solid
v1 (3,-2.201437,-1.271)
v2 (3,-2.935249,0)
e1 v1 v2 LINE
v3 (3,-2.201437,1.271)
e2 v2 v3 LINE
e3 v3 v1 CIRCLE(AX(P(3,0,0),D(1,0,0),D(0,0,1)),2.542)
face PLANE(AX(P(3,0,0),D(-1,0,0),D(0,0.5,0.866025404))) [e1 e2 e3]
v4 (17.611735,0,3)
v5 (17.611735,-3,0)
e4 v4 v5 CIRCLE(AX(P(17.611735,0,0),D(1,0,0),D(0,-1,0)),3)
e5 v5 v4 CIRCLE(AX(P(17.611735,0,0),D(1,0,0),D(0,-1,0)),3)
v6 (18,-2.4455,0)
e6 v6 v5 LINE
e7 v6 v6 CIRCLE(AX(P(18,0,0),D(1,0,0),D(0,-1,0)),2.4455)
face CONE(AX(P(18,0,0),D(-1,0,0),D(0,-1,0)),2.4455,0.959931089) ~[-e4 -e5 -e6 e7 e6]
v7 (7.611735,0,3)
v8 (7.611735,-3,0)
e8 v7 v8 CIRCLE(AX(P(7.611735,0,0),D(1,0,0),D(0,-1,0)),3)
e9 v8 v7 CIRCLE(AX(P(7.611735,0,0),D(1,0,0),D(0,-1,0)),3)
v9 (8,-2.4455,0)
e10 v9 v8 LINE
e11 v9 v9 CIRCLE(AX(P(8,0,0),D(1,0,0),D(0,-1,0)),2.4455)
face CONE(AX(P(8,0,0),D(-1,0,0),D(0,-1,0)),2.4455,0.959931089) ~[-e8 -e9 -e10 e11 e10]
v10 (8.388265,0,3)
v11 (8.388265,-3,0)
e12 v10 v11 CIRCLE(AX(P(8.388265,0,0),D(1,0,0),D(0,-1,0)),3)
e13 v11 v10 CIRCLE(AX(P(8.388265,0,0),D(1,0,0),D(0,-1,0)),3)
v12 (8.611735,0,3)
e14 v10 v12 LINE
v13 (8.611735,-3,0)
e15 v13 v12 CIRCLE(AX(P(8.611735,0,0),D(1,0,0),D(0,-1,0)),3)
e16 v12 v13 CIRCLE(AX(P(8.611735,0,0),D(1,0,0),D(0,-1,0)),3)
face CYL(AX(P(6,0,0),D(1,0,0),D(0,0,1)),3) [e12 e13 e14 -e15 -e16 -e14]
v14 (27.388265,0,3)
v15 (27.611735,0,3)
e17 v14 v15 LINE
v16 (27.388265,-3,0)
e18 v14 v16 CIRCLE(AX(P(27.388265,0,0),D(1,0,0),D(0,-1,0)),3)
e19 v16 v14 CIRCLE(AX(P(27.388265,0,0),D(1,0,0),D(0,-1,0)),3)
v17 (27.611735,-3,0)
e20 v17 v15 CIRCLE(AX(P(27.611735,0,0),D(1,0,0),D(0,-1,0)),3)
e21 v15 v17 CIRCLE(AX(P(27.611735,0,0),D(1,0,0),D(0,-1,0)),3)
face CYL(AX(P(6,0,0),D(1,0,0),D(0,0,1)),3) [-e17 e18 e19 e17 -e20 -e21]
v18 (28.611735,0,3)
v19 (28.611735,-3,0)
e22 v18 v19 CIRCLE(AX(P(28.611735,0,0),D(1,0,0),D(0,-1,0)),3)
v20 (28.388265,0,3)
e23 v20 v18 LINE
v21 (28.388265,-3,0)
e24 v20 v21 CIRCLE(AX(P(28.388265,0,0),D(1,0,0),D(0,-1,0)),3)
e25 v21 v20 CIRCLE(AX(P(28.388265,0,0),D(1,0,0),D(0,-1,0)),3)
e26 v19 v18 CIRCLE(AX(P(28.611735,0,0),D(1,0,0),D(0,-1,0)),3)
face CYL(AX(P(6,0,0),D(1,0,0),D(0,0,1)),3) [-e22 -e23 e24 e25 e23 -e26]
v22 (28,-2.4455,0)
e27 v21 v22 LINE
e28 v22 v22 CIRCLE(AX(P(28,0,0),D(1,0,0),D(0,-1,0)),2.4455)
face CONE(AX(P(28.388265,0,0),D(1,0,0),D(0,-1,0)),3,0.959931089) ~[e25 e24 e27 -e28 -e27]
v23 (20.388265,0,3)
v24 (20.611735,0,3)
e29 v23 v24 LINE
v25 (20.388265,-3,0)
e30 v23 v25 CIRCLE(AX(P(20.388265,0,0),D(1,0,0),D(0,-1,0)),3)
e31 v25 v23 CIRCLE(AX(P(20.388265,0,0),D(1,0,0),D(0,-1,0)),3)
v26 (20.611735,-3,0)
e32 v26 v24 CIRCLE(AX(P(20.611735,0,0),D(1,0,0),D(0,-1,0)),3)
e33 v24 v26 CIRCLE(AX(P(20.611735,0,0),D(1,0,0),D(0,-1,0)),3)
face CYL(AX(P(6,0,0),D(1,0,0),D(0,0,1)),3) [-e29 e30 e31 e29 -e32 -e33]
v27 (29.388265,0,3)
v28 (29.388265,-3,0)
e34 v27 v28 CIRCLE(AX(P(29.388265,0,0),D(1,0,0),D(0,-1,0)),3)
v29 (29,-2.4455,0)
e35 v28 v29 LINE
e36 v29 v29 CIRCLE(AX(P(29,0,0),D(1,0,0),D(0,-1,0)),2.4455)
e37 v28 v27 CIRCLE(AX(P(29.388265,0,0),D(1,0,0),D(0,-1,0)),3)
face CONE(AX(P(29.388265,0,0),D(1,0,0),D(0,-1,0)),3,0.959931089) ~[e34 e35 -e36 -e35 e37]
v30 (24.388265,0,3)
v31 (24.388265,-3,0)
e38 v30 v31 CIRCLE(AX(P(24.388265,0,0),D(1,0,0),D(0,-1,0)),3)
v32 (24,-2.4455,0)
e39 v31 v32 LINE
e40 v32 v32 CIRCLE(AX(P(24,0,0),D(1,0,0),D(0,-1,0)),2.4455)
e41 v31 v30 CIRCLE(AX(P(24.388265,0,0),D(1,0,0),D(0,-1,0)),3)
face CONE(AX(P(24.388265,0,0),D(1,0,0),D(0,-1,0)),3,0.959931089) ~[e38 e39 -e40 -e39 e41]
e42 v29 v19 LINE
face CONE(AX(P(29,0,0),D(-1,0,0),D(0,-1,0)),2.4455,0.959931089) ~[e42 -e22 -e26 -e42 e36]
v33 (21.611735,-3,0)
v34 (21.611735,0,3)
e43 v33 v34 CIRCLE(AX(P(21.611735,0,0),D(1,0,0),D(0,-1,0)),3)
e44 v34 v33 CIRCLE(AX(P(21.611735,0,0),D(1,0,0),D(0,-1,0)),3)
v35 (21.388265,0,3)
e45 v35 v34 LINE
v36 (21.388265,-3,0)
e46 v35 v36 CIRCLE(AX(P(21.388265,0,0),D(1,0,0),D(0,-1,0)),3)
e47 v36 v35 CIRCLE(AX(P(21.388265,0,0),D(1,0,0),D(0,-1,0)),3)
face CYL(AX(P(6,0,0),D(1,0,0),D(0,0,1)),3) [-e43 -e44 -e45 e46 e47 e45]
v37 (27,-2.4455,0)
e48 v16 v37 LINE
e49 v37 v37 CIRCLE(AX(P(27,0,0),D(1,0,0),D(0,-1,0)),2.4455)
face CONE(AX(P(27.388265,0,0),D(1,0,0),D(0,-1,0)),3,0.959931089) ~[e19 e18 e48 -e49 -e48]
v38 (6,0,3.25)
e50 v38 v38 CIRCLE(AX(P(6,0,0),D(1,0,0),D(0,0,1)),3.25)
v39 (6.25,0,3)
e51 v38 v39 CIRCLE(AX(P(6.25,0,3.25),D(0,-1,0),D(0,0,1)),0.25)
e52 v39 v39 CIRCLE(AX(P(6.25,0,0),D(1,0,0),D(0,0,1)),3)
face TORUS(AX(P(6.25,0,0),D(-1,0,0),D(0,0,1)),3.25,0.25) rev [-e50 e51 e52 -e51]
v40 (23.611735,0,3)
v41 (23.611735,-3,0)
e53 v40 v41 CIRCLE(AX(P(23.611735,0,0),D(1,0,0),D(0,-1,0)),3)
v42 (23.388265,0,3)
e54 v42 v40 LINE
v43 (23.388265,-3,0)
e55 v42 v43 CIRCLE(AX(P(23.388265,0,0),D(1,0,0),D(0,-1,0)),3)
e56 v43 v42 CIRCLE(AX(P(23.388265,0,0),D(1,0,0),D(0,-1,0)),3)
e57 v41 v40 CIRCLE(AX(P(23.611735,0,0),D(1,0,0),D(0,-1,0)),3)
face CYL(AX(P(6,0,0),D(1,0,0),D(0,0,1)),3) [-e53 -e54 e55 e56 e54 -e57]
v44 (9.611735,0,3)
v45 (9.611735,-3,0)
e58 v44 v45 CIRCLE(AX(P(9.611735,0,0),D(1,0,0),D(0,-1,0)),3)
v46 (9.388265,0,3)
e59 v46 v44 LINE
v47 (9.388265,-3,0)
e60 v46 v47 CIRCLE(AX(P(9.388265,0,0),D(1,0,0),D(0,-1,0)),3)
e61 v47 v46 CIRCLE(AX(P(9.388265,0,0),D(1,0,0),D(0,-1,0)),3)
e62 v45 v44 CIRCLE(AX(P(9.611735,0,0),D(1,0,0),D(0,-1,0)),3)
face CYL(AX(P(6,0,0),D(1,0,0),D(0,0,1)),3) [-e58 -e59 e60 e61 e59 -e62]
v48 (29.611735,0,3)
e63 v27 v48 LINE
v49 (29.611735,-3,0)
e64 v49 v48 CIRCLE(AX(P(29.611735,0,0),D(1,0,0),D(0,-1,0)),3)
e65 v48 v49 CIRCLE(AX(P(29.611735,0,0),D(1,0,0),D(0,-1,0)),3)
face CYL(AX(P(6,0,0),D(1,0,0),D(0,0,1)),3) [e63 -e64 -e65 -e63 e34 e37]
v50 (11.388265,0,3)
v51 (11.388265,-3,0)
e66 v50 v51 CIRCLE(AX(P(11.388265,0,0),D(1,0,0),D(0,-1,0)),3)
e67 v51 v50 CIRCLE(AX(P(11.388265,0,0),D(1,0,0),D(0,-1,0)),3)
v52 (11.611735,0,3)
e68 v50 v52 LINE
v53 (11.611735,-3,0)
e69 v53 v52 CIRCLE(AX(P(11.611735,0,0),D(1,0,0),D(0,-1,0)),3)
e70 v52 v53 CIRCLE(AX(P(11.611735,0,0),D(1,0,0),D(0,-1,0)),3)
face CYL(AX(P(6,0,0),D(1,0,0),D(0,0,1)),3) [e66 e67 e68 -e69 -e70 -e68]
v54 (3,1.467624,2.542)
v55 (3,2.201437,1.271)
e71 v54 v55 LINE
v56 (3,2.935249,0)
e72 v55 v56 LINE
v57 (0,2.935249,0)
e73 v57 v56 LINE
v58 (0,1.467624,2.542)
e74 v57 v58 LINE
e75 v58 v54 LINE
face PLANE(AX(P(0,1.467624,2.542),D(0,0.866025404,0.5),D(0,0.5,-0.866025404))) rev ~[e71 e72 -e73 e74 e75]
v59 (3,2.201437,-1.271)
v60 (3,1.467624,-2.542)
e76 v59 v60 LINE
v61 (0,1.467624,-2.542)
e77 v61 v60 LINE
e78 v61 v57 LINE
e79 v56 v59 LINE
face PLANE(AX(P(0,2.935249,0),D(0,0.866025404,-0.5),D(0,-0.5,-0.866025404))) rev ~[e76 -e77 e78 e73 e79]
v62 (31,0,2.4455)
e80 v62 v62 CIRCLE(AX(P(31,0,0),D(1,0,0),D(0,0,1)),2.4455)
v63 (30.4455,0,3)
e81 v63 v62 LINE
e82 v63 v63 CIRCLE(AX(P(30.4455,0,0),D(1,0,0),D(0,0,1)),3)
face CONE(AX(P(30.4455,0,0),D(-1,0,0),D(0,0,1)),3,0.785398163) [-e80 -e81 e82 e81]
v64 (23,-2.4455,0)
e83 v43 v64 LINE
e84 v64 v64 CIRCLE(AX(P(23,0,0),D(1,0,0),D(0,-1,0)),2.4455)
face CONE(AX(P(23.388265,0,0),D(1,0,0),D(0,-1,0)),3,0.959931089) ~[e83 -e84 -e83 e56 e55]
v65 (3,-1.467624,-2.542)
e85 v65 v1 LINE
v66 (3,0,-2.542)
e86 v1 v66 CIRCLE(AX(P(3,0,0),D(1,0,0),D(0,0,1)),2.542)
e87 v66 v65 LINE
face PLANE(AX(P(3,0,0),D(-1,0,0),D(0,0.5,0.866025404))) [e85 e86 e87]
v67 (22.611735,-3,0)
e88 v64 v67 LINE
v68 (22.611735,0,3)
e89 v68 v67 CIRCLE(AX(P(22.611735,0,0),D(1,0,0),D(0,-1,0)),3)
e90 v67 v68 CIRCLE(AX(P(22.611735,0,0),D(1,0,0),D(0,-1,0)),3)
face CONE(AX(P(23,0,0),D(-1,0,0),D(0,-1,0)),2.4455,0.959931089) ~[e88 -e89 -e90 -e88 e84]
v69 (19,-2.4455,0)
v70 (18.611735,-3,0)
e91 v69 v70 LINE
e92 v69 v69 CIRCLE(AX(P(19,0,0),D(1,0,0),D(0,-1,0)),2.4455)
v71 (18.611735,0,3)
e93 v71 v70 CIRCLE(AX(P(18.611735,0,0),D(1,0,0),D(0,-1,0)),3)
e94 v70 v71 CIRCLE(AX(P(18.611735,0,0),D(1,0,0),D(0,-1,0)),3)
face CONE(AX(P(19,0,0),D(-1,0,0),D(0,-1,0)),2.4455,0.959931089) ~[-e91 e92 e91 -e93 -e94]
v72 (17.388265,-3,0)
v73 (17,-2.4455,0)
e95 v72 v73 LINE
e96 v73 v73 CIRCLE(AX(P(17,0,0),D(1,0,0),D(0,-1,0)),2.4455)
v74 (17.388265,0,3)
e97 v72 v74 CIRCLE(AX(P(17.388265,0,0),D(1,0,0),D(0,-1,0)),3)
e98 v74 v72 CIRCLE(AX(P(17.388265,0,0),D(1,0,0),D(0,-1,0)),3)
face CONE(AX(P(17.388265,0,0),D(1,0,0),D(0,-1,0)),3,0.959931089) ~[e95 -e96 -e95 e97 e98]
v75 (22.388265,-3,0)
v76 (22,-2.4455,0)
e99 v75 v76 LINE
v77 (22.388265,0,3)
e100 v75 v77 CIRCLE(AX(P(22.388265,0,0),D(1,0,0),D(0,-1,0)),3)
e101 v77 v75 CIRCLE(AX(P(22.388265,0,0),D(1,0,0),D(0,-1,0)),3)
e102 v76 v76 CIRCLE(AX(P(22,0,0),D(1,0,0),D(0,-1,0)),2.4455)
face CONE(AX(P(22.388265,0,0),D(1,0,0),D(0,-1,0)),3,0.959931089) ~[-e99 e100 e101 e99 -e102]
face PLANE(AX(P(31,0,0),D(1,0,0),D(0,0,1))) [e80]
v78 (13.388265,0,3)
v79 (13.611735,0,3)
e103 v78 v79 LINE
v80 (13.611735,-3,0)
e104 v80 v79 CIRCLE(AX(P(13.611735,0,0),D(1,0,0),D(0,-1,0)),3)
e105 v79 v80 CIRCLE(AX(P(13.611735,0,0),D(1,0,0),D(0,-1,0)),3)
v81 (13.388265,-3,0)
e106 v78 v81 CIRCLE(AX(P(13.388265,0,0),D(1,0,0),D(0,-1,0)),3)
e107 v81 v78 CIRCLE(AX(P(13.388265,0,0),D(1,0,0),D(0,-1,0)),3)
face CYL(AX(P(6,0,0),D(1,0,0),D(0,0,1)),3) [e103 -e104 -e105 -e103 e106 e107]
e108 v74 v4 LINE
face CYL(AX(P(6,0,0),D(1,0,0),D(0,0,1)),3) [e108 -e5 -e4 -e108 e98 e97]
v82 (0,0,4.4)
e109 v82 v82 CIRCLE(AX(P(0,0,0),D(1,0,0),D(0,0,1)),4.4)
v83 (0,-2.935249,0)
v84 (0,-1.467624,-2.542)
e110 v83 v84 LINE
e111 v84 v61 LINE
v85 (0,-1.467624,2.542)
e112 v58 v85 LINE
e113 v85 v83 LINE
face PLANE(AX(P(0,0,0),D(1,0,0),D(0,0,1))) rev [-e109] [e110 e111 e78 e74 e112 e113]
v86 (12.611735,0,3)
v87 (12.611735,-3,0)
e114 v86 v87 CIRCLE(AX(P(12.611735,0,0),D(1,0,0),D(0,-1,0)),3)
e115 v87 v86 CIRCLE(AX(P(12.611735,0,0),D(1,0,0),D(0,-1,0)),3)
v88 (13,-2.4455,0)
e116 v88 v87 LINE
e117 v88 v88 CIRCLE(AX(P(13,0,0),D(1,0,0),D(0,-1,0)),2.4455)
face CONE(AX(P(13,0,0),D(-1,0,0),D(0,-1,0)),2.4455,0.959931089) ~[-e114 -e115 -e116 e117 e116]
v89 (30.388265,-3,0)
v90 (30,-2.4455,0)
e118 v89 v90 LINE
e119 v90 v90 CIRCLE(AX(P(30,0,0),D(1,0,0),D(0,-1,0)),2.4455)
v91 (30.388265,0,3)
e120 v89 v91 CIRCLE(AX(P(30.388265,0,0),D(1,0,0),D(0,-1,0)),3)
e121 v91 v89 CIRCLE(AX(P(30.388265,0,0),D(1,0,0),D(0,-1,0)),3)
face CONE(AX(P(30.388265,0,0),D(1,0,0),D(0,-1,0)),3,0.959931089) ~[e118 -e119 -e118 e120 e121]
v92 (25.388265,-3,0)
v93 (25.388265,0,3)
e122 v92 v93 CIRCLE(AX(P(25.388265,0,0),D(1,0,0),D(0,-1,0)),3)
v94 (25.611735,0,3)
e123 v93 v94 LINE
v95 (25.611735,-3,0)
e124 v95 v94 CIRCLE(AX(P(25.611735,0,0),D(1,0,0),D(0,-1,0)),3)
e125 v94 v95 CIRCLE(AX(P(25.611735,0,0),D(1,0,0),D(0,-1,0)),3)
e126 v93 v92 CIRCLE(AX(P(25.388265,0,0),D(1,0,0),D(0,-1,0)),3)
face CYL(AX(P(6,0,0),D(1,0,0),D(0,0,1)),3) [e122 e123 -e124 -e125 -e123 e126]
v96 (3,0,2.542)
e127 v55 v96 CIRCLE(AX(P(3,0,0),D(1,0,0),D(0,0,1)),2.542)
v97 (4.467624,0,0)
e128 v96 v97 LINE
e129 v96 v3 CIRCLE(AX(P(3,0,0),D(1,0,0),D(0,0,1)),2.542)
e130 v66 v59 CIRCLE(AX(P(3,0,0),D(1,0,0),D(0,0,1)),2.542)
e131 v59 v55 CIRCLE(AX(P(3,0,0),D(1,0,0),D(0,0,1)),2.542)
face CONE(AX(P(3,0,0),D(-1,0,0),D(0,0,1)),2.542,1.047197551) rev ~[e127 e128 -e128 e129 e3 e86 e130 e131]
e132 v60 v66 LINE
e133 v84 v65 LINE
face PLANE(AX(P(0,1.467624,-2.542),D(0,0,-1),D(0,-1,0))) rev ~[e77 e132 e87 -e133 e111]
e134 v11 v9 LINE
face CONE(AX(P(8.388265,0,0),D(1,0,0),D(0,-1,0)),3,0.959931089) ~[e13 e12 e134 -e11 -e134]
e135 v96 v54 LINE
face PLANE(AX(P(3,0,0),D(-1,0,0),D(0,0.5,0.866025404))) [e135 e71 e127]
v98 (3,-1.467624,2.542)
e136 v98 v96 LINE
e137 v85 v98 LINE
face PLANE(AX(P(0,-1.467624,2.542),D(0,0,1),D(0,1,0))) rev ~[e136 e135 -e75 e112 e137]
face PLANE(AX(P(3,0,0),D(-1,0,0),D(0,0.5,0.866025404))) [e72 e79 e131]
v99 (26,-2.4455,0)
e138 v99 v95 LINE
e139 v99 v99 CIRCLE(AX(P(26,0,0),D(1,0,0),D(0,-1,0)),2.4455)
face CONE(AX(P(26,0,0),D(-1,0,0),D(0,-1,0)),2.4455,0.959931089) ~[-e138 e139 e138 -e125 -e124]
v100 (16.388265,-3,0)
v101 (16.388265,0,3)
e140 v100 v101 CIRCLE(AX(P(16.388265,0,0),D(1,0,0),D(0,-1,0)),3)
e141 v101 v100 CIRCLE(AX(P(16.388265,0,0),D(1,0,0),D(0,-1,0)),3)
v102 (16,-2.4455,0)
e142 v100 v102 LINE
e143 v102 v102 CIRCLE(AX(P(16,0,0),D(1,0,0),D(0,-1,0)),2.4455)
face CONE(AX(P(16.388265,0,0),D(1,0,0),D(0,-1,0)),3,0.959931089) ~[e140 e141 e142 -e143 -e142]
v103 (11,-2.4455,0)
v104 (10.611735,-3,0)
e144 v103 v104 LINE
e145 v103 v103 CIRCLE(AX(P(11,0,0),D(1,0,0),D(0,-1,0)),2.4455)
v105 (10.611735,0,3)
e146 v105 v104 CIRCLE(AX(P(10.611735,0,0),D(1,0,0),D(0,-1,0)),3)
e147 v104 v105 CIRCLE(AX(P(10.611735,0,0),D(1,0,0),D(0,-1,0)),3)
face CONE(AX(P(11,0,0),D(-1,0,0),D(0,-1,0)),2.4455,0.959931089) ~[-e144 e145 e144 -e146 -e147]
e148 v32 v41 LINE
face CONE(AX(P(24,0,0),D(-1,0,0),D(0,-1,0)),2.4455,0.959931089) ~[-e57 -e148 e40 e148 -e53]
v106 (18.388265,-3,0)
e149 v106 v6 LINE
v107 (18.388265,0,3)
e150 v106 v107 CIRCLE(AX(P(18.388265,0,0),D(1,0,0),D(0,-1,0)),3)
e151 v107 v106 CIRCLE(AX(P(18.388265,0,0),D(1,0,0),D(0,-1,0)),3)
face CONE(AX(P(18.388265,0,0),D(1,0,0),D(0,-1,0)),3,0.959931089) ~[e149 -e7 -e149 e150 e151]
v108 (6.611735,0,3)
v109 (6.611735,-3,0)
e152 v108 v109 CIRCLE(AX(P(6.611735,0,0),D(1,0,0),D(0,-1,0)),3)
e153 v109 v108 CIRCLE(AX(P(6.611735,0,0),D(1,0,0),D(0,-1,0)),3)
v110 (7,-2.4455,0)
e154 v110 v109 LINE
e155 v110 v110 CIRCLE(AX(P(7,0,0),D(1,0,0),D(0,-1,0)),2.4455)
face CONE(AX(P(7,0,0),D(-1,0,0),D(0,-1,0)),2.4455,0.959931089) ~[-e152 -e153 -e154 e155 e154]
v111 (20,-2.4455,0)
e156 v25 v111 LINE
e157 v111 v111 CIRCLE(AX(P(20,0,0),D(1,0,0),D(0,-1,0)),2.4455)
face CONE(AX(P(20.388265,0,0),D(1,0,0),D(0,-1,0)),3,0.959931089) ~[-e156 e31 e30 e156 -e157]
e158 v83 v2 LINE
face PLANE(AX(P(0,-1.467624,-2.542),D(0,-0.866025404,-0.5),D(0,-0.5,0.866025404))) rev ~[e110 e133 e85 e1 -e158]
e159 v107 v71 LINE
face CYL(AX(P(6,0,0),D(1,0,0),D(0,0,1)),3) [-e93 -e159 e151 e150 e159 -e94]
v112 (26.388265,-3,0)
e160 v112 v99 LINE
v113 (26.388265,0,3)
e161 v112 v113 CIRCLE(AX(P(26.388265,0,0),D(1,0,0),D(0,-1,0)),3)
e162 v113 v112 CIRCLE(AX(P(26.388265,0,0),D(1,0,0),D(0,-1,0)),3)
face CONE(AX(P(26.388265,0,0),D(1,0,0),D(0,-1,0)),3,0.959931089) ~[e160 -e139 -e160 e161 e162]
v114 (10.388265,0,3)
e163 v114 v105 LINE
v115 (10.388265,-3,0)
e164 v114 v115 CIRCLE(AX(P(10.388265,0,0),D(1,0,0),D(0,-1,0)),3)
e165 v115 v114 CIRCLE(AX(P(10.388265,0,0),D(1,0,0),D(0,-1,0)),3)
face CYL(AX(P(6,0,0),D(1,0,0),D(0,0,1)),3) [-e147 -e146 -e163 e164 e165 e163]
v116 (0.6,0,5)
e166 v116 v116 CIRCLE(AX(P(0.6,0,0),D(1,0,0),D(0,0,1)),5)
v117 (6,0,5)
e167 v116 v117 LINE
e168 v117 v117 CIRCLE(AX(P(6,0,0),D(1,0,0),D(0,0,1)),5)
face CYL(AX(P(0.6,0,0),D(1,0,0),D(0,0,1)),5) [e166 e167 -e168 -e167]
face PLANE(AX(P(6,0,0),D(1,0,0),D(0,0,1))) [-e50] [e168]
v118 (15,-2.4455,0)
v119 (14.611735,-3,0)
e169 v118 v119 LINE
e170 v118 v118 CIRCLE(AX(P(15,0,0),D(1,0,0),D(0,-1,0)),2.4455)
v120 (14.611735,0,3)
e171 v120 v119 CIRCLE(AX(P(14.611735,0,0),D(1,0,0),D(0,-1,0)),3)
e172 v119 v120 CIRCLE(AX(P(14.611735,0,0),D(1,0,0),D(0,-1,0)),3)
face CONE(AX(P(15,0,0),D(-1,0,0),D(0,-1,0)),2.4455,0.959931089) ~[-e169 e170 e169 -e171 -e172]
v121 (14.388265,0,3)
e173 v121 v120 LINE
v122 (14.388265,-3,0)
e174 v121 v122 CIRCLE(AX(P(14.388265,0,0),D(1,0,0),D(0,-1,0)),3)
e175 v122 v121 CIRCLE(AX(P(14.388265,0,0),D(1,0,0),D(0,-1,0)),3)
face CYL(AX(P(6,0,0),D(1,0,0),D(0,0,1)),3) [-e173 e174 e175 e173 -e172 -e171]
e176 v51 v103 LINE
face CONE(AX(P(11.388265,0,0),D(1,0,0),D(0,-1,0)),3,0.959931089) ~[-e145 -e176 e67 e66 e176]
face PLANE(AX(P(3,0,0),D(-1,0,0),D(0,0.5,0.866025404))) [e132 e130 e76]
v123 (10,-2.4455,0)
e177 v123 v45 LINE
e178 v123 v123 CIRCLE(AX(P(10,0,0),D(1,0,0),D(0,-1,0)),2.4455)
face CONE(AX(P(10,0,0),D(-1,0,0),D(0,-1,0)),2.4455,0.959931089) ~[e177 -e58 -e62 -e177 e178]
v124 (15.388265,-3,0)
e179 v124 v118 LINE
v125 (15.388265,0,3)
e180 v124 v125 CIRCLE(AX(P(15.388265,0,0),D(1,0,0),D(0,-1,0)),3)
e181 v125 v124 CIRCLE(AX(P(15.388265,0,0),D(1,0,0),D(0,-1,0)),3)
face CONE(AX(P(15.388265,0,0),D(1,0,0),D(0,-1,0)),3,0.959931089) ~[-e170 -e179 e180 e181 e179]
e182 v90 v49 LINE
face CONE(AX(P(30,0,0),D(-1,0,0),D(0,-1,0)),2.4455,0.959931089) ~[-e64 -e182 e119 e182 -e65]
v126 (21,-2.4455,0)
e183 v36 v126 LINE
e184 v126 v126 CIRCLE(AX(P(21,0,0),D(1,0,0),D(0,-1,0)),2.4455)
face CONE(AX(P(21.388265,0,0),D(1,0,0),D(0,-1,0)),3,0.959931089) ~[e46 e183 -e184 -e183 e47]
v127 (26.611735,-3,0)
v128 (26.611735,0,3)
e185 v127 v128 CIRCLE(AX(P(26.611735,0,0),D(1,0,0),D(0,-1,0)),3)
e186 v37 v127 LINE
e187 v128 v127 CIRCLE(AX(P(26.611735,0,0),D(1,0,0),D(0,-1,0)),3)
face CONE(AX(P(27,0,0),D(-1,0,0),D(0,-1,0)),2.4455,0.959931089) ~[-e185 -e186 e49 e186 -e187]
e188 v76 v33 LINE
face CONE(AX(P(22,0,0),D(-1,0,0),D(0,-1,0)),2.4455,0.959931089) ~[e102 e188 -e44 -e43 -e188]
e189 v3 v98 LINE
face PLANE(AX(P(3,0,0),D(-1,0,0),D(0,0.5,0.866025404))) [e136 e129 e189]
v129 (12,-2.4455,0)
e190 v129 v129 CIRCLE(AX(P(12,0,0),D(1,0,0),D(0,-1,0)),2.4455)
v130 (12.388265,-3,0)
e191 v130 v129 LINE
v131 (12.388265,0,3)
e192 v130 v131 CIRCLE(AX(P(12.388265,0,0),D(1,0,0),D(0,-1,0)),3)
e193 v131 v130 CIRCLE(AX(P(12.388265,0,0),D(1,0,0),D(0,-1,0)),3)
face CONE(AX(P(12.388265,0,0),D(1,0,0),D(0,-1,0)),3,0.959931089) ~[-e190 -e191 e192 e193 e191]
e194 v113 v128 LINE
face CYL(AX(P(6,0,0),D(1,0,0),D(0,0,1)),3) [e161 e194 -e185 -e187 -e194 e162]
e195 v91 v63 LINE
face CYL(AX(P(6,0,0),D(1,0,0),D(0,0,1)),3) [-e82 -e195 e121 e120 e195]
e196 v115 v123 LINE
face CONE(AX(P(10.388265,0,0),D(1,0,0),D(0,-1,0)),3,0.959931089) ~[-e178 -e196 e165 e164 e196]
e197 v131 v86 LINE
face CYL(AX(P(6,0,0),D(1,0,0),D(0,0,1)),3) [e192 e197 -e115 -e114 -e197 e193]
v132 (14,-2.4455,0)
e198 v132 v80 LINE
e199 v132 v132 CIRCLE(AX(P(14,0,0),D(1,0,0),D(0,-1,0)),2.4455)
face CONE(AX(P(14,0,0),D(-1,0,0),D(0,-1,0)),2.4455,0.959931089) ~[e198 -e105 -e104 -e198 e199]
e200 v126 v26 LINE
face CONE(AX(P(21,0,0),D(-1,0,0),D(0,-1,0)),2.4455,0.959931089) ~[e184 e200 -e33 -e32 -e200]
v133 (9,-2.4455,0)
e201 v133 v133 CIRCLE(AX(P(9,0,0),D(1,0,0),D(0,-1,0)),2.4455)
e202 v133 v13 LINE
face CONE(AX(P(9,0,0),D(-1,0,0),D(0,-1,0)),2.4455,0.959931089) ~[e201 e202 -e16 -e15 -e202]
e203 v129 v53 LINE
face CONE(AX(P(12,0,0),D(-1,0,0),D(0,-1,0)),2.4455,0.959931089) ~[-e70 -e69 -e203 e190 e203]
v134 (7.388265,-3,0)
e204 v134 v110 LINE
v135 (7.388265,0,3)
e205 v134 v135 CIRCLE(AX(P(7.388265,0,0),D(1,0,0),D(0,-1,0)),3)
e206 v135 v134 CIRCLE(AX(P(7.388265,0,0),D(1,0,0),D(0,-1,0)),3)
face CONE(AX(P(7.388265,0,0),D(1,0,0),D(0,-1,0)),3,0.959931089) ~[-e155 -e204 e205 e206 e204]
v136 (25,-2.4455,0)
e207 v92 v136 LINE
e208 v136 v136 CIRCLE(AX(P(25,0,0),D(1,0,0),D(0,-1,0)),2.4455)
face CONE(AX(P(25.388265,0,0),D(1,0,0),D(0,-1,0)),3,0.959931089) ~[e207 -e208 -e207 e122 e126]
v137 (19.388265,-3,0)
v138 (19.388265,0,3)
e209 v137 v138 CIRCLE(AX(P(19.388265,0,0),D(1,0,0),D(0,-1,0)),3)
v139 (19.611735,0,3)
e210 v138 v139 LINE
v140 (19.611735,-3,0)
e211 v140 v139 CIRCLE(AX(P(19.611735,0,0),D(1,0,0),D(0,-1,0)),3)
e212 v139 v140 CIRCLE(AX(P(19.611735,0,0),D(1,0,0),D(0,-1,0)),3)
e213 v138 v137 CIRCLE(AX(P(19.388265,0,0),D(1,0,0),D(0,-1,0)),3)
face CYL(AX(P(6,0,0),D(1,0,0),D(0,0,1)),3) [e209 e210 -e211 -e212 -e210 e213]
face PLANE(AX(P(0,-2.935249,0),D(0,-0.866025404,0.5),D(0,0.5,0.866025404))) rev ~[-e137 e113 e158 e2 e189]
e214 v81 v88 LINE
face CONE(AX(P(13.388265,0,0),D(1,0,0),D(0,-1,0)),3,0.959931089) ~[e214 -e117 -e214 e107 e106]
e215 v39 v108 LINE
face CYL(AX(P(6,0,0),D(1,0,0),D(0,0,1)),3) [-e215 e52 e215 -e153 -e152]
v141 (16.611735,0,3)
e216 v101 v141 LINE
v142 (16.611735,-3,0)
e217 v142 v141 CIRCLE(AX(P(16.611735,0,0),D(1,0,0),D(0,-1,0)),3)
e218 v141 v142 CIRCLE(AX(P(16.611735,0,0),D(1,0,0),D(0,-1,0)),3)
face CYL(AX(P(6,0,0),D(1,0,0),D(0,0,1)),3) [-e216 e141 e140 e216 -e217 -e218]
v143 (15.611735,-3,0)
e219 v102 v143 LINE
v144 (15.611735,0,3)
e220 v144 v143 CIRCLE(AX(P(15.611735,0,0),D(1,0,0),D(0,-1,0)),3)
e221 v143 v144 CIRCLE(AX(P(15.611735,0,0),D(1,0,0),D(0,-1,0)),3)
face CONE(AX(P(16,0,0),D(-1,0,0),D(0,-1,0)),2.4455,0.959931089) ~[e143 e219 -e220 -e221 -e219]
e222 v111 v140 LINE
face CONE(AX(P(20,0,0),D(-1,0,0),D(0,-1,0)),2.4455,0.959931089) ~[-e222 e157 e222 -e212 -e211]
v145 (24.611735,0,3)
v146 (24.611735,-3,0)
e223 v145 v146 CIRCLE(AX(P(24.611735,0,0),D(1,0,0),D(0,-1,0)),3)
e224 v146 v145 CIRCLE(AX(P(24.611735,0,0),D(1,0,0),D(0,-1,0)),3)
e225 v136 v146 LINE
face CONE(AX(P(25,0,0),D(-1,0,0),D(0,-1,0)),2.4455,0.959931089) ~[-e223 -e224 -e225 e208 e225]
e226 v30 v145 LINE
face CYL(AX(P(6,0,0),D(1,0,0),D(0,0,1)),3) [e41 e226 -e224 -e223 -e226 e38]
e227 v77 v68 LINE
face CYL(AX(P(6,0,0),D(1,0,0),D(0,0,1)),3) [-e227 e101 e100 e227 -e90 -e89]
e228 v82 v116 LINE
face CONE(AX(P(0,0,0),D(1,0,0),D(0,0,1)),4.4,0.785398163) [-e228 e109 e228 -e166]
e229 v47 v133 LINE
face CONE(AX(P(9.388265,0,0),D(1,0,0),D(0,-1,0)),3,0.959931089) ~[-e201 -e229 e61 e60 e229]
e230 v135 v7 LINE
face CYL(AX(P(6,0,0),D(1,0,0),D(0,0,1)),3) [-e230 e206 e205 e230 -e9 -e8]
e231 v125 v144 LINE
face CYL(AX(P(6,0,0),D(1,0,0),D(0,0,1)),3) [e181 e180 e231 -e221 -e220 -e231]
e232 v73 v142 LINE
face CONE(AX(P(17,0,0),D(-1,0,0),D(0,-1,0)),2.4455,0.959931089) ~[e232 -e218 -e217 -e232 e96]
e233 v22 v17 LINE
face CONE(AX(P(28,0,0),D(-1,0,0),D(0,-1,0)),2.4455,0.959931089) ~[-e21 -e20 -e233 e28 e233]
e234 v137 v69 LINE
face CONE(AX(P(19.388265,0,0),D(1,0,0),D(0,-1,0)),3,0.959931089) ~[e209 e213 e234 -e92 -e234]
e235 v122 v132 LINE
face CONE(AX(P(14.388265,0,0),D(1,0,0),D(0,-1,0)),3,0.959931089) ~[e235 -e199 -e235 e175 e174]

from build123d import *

# Parameters (mm, degrees)
FILLET1_R       = 0.25
HEX_2_DEPTH     = 3
THDSCHPAT_COUNT = 24
THDSCHPAT_PITCH = 1


with BuildPart() as part:
    # BodySke → Base-Revolve (revolve)
    with BuildSketch(Plane.XY, mode=Mode.PRIVATE) as base_revolve_sk:
        Polygon((0, 0), (0, 4.4), (0.6, 5), (6, 5), (6, 3), (30.4455, 3), (31, 2.4455), (31, 0), align=None)
    revolve(base_revolve_sk.sketch.rotate(Axis((-31.75, 0, 0), (1, 0, 0)), 90), axis=Axis((-31.75, 0, 0), (1, 0, 0)))

    # Fillet1
    fillet1_edges = [part.edges().sort_by_distance(p)[0] for p in [
        (6, 0, -3),
    ]]
    fillet(fillet1_edges, radius=FILLET1_R)

    # Sketch2 → Hex-PreBroach (revolve, cut)
    with BuildSketch(Plane.XY, mode=Mode.PRIVATE) as hex_prebroach_sk:
        Polygon((0, 2.542), (3, 2.542), (4.467624384, 0), (0, 0), align=None)
    revolve(hex_prebroach_sk.sketch.rotate(Axis((0, 0, 0), (1, 0, 0)), 90), axis=Axis((0, 0, 0), (1, 0, 0)), mode=Mode.SUBTRACT)

    # Sketch3 → Hex 2 (cut)
    with BuildSketch(Plane(origin=(0, 0, 0), x_dir=(0, 0.500000000000001, 0.866025403784438), z_dir=(-1, 0, 0))):
        Polygon((1.467624384, 2.542), (-1.467624384, 2.542), (-2.935248769, 0), (-1.467624384, -2.542), (1.467624384, -2.542), (2.935248769, 0), align=None)
    extrude(amount=-HEX_2_DEPTH, mode=Mode.SUBTRACT)

    # ThdSchSke → ThreadSchematic (revolve, cut)
    with BuildSketch(Plane.XY):
        Polygon((7, -2.4455), (6.61173492, -3), (6.61173492, -3.75), (7.38826508, -3.75), (7.38826508, -3), align=None)
    threadschematic = revolve(axis=Axis((-3.175, 0, 0), (1, 0, 0)), mode=Mode.SUBTRACT)

    # ThdSchPat: ThreadSchematic ×24
    with Locations(*[(i * THDSCHPAT_PITCH, 0, 0) for i in range(1, THDSCHPAT_COUNT)]):
        add(threadschematic, mode=Mode.SUBTRACT)


solid = part.part
